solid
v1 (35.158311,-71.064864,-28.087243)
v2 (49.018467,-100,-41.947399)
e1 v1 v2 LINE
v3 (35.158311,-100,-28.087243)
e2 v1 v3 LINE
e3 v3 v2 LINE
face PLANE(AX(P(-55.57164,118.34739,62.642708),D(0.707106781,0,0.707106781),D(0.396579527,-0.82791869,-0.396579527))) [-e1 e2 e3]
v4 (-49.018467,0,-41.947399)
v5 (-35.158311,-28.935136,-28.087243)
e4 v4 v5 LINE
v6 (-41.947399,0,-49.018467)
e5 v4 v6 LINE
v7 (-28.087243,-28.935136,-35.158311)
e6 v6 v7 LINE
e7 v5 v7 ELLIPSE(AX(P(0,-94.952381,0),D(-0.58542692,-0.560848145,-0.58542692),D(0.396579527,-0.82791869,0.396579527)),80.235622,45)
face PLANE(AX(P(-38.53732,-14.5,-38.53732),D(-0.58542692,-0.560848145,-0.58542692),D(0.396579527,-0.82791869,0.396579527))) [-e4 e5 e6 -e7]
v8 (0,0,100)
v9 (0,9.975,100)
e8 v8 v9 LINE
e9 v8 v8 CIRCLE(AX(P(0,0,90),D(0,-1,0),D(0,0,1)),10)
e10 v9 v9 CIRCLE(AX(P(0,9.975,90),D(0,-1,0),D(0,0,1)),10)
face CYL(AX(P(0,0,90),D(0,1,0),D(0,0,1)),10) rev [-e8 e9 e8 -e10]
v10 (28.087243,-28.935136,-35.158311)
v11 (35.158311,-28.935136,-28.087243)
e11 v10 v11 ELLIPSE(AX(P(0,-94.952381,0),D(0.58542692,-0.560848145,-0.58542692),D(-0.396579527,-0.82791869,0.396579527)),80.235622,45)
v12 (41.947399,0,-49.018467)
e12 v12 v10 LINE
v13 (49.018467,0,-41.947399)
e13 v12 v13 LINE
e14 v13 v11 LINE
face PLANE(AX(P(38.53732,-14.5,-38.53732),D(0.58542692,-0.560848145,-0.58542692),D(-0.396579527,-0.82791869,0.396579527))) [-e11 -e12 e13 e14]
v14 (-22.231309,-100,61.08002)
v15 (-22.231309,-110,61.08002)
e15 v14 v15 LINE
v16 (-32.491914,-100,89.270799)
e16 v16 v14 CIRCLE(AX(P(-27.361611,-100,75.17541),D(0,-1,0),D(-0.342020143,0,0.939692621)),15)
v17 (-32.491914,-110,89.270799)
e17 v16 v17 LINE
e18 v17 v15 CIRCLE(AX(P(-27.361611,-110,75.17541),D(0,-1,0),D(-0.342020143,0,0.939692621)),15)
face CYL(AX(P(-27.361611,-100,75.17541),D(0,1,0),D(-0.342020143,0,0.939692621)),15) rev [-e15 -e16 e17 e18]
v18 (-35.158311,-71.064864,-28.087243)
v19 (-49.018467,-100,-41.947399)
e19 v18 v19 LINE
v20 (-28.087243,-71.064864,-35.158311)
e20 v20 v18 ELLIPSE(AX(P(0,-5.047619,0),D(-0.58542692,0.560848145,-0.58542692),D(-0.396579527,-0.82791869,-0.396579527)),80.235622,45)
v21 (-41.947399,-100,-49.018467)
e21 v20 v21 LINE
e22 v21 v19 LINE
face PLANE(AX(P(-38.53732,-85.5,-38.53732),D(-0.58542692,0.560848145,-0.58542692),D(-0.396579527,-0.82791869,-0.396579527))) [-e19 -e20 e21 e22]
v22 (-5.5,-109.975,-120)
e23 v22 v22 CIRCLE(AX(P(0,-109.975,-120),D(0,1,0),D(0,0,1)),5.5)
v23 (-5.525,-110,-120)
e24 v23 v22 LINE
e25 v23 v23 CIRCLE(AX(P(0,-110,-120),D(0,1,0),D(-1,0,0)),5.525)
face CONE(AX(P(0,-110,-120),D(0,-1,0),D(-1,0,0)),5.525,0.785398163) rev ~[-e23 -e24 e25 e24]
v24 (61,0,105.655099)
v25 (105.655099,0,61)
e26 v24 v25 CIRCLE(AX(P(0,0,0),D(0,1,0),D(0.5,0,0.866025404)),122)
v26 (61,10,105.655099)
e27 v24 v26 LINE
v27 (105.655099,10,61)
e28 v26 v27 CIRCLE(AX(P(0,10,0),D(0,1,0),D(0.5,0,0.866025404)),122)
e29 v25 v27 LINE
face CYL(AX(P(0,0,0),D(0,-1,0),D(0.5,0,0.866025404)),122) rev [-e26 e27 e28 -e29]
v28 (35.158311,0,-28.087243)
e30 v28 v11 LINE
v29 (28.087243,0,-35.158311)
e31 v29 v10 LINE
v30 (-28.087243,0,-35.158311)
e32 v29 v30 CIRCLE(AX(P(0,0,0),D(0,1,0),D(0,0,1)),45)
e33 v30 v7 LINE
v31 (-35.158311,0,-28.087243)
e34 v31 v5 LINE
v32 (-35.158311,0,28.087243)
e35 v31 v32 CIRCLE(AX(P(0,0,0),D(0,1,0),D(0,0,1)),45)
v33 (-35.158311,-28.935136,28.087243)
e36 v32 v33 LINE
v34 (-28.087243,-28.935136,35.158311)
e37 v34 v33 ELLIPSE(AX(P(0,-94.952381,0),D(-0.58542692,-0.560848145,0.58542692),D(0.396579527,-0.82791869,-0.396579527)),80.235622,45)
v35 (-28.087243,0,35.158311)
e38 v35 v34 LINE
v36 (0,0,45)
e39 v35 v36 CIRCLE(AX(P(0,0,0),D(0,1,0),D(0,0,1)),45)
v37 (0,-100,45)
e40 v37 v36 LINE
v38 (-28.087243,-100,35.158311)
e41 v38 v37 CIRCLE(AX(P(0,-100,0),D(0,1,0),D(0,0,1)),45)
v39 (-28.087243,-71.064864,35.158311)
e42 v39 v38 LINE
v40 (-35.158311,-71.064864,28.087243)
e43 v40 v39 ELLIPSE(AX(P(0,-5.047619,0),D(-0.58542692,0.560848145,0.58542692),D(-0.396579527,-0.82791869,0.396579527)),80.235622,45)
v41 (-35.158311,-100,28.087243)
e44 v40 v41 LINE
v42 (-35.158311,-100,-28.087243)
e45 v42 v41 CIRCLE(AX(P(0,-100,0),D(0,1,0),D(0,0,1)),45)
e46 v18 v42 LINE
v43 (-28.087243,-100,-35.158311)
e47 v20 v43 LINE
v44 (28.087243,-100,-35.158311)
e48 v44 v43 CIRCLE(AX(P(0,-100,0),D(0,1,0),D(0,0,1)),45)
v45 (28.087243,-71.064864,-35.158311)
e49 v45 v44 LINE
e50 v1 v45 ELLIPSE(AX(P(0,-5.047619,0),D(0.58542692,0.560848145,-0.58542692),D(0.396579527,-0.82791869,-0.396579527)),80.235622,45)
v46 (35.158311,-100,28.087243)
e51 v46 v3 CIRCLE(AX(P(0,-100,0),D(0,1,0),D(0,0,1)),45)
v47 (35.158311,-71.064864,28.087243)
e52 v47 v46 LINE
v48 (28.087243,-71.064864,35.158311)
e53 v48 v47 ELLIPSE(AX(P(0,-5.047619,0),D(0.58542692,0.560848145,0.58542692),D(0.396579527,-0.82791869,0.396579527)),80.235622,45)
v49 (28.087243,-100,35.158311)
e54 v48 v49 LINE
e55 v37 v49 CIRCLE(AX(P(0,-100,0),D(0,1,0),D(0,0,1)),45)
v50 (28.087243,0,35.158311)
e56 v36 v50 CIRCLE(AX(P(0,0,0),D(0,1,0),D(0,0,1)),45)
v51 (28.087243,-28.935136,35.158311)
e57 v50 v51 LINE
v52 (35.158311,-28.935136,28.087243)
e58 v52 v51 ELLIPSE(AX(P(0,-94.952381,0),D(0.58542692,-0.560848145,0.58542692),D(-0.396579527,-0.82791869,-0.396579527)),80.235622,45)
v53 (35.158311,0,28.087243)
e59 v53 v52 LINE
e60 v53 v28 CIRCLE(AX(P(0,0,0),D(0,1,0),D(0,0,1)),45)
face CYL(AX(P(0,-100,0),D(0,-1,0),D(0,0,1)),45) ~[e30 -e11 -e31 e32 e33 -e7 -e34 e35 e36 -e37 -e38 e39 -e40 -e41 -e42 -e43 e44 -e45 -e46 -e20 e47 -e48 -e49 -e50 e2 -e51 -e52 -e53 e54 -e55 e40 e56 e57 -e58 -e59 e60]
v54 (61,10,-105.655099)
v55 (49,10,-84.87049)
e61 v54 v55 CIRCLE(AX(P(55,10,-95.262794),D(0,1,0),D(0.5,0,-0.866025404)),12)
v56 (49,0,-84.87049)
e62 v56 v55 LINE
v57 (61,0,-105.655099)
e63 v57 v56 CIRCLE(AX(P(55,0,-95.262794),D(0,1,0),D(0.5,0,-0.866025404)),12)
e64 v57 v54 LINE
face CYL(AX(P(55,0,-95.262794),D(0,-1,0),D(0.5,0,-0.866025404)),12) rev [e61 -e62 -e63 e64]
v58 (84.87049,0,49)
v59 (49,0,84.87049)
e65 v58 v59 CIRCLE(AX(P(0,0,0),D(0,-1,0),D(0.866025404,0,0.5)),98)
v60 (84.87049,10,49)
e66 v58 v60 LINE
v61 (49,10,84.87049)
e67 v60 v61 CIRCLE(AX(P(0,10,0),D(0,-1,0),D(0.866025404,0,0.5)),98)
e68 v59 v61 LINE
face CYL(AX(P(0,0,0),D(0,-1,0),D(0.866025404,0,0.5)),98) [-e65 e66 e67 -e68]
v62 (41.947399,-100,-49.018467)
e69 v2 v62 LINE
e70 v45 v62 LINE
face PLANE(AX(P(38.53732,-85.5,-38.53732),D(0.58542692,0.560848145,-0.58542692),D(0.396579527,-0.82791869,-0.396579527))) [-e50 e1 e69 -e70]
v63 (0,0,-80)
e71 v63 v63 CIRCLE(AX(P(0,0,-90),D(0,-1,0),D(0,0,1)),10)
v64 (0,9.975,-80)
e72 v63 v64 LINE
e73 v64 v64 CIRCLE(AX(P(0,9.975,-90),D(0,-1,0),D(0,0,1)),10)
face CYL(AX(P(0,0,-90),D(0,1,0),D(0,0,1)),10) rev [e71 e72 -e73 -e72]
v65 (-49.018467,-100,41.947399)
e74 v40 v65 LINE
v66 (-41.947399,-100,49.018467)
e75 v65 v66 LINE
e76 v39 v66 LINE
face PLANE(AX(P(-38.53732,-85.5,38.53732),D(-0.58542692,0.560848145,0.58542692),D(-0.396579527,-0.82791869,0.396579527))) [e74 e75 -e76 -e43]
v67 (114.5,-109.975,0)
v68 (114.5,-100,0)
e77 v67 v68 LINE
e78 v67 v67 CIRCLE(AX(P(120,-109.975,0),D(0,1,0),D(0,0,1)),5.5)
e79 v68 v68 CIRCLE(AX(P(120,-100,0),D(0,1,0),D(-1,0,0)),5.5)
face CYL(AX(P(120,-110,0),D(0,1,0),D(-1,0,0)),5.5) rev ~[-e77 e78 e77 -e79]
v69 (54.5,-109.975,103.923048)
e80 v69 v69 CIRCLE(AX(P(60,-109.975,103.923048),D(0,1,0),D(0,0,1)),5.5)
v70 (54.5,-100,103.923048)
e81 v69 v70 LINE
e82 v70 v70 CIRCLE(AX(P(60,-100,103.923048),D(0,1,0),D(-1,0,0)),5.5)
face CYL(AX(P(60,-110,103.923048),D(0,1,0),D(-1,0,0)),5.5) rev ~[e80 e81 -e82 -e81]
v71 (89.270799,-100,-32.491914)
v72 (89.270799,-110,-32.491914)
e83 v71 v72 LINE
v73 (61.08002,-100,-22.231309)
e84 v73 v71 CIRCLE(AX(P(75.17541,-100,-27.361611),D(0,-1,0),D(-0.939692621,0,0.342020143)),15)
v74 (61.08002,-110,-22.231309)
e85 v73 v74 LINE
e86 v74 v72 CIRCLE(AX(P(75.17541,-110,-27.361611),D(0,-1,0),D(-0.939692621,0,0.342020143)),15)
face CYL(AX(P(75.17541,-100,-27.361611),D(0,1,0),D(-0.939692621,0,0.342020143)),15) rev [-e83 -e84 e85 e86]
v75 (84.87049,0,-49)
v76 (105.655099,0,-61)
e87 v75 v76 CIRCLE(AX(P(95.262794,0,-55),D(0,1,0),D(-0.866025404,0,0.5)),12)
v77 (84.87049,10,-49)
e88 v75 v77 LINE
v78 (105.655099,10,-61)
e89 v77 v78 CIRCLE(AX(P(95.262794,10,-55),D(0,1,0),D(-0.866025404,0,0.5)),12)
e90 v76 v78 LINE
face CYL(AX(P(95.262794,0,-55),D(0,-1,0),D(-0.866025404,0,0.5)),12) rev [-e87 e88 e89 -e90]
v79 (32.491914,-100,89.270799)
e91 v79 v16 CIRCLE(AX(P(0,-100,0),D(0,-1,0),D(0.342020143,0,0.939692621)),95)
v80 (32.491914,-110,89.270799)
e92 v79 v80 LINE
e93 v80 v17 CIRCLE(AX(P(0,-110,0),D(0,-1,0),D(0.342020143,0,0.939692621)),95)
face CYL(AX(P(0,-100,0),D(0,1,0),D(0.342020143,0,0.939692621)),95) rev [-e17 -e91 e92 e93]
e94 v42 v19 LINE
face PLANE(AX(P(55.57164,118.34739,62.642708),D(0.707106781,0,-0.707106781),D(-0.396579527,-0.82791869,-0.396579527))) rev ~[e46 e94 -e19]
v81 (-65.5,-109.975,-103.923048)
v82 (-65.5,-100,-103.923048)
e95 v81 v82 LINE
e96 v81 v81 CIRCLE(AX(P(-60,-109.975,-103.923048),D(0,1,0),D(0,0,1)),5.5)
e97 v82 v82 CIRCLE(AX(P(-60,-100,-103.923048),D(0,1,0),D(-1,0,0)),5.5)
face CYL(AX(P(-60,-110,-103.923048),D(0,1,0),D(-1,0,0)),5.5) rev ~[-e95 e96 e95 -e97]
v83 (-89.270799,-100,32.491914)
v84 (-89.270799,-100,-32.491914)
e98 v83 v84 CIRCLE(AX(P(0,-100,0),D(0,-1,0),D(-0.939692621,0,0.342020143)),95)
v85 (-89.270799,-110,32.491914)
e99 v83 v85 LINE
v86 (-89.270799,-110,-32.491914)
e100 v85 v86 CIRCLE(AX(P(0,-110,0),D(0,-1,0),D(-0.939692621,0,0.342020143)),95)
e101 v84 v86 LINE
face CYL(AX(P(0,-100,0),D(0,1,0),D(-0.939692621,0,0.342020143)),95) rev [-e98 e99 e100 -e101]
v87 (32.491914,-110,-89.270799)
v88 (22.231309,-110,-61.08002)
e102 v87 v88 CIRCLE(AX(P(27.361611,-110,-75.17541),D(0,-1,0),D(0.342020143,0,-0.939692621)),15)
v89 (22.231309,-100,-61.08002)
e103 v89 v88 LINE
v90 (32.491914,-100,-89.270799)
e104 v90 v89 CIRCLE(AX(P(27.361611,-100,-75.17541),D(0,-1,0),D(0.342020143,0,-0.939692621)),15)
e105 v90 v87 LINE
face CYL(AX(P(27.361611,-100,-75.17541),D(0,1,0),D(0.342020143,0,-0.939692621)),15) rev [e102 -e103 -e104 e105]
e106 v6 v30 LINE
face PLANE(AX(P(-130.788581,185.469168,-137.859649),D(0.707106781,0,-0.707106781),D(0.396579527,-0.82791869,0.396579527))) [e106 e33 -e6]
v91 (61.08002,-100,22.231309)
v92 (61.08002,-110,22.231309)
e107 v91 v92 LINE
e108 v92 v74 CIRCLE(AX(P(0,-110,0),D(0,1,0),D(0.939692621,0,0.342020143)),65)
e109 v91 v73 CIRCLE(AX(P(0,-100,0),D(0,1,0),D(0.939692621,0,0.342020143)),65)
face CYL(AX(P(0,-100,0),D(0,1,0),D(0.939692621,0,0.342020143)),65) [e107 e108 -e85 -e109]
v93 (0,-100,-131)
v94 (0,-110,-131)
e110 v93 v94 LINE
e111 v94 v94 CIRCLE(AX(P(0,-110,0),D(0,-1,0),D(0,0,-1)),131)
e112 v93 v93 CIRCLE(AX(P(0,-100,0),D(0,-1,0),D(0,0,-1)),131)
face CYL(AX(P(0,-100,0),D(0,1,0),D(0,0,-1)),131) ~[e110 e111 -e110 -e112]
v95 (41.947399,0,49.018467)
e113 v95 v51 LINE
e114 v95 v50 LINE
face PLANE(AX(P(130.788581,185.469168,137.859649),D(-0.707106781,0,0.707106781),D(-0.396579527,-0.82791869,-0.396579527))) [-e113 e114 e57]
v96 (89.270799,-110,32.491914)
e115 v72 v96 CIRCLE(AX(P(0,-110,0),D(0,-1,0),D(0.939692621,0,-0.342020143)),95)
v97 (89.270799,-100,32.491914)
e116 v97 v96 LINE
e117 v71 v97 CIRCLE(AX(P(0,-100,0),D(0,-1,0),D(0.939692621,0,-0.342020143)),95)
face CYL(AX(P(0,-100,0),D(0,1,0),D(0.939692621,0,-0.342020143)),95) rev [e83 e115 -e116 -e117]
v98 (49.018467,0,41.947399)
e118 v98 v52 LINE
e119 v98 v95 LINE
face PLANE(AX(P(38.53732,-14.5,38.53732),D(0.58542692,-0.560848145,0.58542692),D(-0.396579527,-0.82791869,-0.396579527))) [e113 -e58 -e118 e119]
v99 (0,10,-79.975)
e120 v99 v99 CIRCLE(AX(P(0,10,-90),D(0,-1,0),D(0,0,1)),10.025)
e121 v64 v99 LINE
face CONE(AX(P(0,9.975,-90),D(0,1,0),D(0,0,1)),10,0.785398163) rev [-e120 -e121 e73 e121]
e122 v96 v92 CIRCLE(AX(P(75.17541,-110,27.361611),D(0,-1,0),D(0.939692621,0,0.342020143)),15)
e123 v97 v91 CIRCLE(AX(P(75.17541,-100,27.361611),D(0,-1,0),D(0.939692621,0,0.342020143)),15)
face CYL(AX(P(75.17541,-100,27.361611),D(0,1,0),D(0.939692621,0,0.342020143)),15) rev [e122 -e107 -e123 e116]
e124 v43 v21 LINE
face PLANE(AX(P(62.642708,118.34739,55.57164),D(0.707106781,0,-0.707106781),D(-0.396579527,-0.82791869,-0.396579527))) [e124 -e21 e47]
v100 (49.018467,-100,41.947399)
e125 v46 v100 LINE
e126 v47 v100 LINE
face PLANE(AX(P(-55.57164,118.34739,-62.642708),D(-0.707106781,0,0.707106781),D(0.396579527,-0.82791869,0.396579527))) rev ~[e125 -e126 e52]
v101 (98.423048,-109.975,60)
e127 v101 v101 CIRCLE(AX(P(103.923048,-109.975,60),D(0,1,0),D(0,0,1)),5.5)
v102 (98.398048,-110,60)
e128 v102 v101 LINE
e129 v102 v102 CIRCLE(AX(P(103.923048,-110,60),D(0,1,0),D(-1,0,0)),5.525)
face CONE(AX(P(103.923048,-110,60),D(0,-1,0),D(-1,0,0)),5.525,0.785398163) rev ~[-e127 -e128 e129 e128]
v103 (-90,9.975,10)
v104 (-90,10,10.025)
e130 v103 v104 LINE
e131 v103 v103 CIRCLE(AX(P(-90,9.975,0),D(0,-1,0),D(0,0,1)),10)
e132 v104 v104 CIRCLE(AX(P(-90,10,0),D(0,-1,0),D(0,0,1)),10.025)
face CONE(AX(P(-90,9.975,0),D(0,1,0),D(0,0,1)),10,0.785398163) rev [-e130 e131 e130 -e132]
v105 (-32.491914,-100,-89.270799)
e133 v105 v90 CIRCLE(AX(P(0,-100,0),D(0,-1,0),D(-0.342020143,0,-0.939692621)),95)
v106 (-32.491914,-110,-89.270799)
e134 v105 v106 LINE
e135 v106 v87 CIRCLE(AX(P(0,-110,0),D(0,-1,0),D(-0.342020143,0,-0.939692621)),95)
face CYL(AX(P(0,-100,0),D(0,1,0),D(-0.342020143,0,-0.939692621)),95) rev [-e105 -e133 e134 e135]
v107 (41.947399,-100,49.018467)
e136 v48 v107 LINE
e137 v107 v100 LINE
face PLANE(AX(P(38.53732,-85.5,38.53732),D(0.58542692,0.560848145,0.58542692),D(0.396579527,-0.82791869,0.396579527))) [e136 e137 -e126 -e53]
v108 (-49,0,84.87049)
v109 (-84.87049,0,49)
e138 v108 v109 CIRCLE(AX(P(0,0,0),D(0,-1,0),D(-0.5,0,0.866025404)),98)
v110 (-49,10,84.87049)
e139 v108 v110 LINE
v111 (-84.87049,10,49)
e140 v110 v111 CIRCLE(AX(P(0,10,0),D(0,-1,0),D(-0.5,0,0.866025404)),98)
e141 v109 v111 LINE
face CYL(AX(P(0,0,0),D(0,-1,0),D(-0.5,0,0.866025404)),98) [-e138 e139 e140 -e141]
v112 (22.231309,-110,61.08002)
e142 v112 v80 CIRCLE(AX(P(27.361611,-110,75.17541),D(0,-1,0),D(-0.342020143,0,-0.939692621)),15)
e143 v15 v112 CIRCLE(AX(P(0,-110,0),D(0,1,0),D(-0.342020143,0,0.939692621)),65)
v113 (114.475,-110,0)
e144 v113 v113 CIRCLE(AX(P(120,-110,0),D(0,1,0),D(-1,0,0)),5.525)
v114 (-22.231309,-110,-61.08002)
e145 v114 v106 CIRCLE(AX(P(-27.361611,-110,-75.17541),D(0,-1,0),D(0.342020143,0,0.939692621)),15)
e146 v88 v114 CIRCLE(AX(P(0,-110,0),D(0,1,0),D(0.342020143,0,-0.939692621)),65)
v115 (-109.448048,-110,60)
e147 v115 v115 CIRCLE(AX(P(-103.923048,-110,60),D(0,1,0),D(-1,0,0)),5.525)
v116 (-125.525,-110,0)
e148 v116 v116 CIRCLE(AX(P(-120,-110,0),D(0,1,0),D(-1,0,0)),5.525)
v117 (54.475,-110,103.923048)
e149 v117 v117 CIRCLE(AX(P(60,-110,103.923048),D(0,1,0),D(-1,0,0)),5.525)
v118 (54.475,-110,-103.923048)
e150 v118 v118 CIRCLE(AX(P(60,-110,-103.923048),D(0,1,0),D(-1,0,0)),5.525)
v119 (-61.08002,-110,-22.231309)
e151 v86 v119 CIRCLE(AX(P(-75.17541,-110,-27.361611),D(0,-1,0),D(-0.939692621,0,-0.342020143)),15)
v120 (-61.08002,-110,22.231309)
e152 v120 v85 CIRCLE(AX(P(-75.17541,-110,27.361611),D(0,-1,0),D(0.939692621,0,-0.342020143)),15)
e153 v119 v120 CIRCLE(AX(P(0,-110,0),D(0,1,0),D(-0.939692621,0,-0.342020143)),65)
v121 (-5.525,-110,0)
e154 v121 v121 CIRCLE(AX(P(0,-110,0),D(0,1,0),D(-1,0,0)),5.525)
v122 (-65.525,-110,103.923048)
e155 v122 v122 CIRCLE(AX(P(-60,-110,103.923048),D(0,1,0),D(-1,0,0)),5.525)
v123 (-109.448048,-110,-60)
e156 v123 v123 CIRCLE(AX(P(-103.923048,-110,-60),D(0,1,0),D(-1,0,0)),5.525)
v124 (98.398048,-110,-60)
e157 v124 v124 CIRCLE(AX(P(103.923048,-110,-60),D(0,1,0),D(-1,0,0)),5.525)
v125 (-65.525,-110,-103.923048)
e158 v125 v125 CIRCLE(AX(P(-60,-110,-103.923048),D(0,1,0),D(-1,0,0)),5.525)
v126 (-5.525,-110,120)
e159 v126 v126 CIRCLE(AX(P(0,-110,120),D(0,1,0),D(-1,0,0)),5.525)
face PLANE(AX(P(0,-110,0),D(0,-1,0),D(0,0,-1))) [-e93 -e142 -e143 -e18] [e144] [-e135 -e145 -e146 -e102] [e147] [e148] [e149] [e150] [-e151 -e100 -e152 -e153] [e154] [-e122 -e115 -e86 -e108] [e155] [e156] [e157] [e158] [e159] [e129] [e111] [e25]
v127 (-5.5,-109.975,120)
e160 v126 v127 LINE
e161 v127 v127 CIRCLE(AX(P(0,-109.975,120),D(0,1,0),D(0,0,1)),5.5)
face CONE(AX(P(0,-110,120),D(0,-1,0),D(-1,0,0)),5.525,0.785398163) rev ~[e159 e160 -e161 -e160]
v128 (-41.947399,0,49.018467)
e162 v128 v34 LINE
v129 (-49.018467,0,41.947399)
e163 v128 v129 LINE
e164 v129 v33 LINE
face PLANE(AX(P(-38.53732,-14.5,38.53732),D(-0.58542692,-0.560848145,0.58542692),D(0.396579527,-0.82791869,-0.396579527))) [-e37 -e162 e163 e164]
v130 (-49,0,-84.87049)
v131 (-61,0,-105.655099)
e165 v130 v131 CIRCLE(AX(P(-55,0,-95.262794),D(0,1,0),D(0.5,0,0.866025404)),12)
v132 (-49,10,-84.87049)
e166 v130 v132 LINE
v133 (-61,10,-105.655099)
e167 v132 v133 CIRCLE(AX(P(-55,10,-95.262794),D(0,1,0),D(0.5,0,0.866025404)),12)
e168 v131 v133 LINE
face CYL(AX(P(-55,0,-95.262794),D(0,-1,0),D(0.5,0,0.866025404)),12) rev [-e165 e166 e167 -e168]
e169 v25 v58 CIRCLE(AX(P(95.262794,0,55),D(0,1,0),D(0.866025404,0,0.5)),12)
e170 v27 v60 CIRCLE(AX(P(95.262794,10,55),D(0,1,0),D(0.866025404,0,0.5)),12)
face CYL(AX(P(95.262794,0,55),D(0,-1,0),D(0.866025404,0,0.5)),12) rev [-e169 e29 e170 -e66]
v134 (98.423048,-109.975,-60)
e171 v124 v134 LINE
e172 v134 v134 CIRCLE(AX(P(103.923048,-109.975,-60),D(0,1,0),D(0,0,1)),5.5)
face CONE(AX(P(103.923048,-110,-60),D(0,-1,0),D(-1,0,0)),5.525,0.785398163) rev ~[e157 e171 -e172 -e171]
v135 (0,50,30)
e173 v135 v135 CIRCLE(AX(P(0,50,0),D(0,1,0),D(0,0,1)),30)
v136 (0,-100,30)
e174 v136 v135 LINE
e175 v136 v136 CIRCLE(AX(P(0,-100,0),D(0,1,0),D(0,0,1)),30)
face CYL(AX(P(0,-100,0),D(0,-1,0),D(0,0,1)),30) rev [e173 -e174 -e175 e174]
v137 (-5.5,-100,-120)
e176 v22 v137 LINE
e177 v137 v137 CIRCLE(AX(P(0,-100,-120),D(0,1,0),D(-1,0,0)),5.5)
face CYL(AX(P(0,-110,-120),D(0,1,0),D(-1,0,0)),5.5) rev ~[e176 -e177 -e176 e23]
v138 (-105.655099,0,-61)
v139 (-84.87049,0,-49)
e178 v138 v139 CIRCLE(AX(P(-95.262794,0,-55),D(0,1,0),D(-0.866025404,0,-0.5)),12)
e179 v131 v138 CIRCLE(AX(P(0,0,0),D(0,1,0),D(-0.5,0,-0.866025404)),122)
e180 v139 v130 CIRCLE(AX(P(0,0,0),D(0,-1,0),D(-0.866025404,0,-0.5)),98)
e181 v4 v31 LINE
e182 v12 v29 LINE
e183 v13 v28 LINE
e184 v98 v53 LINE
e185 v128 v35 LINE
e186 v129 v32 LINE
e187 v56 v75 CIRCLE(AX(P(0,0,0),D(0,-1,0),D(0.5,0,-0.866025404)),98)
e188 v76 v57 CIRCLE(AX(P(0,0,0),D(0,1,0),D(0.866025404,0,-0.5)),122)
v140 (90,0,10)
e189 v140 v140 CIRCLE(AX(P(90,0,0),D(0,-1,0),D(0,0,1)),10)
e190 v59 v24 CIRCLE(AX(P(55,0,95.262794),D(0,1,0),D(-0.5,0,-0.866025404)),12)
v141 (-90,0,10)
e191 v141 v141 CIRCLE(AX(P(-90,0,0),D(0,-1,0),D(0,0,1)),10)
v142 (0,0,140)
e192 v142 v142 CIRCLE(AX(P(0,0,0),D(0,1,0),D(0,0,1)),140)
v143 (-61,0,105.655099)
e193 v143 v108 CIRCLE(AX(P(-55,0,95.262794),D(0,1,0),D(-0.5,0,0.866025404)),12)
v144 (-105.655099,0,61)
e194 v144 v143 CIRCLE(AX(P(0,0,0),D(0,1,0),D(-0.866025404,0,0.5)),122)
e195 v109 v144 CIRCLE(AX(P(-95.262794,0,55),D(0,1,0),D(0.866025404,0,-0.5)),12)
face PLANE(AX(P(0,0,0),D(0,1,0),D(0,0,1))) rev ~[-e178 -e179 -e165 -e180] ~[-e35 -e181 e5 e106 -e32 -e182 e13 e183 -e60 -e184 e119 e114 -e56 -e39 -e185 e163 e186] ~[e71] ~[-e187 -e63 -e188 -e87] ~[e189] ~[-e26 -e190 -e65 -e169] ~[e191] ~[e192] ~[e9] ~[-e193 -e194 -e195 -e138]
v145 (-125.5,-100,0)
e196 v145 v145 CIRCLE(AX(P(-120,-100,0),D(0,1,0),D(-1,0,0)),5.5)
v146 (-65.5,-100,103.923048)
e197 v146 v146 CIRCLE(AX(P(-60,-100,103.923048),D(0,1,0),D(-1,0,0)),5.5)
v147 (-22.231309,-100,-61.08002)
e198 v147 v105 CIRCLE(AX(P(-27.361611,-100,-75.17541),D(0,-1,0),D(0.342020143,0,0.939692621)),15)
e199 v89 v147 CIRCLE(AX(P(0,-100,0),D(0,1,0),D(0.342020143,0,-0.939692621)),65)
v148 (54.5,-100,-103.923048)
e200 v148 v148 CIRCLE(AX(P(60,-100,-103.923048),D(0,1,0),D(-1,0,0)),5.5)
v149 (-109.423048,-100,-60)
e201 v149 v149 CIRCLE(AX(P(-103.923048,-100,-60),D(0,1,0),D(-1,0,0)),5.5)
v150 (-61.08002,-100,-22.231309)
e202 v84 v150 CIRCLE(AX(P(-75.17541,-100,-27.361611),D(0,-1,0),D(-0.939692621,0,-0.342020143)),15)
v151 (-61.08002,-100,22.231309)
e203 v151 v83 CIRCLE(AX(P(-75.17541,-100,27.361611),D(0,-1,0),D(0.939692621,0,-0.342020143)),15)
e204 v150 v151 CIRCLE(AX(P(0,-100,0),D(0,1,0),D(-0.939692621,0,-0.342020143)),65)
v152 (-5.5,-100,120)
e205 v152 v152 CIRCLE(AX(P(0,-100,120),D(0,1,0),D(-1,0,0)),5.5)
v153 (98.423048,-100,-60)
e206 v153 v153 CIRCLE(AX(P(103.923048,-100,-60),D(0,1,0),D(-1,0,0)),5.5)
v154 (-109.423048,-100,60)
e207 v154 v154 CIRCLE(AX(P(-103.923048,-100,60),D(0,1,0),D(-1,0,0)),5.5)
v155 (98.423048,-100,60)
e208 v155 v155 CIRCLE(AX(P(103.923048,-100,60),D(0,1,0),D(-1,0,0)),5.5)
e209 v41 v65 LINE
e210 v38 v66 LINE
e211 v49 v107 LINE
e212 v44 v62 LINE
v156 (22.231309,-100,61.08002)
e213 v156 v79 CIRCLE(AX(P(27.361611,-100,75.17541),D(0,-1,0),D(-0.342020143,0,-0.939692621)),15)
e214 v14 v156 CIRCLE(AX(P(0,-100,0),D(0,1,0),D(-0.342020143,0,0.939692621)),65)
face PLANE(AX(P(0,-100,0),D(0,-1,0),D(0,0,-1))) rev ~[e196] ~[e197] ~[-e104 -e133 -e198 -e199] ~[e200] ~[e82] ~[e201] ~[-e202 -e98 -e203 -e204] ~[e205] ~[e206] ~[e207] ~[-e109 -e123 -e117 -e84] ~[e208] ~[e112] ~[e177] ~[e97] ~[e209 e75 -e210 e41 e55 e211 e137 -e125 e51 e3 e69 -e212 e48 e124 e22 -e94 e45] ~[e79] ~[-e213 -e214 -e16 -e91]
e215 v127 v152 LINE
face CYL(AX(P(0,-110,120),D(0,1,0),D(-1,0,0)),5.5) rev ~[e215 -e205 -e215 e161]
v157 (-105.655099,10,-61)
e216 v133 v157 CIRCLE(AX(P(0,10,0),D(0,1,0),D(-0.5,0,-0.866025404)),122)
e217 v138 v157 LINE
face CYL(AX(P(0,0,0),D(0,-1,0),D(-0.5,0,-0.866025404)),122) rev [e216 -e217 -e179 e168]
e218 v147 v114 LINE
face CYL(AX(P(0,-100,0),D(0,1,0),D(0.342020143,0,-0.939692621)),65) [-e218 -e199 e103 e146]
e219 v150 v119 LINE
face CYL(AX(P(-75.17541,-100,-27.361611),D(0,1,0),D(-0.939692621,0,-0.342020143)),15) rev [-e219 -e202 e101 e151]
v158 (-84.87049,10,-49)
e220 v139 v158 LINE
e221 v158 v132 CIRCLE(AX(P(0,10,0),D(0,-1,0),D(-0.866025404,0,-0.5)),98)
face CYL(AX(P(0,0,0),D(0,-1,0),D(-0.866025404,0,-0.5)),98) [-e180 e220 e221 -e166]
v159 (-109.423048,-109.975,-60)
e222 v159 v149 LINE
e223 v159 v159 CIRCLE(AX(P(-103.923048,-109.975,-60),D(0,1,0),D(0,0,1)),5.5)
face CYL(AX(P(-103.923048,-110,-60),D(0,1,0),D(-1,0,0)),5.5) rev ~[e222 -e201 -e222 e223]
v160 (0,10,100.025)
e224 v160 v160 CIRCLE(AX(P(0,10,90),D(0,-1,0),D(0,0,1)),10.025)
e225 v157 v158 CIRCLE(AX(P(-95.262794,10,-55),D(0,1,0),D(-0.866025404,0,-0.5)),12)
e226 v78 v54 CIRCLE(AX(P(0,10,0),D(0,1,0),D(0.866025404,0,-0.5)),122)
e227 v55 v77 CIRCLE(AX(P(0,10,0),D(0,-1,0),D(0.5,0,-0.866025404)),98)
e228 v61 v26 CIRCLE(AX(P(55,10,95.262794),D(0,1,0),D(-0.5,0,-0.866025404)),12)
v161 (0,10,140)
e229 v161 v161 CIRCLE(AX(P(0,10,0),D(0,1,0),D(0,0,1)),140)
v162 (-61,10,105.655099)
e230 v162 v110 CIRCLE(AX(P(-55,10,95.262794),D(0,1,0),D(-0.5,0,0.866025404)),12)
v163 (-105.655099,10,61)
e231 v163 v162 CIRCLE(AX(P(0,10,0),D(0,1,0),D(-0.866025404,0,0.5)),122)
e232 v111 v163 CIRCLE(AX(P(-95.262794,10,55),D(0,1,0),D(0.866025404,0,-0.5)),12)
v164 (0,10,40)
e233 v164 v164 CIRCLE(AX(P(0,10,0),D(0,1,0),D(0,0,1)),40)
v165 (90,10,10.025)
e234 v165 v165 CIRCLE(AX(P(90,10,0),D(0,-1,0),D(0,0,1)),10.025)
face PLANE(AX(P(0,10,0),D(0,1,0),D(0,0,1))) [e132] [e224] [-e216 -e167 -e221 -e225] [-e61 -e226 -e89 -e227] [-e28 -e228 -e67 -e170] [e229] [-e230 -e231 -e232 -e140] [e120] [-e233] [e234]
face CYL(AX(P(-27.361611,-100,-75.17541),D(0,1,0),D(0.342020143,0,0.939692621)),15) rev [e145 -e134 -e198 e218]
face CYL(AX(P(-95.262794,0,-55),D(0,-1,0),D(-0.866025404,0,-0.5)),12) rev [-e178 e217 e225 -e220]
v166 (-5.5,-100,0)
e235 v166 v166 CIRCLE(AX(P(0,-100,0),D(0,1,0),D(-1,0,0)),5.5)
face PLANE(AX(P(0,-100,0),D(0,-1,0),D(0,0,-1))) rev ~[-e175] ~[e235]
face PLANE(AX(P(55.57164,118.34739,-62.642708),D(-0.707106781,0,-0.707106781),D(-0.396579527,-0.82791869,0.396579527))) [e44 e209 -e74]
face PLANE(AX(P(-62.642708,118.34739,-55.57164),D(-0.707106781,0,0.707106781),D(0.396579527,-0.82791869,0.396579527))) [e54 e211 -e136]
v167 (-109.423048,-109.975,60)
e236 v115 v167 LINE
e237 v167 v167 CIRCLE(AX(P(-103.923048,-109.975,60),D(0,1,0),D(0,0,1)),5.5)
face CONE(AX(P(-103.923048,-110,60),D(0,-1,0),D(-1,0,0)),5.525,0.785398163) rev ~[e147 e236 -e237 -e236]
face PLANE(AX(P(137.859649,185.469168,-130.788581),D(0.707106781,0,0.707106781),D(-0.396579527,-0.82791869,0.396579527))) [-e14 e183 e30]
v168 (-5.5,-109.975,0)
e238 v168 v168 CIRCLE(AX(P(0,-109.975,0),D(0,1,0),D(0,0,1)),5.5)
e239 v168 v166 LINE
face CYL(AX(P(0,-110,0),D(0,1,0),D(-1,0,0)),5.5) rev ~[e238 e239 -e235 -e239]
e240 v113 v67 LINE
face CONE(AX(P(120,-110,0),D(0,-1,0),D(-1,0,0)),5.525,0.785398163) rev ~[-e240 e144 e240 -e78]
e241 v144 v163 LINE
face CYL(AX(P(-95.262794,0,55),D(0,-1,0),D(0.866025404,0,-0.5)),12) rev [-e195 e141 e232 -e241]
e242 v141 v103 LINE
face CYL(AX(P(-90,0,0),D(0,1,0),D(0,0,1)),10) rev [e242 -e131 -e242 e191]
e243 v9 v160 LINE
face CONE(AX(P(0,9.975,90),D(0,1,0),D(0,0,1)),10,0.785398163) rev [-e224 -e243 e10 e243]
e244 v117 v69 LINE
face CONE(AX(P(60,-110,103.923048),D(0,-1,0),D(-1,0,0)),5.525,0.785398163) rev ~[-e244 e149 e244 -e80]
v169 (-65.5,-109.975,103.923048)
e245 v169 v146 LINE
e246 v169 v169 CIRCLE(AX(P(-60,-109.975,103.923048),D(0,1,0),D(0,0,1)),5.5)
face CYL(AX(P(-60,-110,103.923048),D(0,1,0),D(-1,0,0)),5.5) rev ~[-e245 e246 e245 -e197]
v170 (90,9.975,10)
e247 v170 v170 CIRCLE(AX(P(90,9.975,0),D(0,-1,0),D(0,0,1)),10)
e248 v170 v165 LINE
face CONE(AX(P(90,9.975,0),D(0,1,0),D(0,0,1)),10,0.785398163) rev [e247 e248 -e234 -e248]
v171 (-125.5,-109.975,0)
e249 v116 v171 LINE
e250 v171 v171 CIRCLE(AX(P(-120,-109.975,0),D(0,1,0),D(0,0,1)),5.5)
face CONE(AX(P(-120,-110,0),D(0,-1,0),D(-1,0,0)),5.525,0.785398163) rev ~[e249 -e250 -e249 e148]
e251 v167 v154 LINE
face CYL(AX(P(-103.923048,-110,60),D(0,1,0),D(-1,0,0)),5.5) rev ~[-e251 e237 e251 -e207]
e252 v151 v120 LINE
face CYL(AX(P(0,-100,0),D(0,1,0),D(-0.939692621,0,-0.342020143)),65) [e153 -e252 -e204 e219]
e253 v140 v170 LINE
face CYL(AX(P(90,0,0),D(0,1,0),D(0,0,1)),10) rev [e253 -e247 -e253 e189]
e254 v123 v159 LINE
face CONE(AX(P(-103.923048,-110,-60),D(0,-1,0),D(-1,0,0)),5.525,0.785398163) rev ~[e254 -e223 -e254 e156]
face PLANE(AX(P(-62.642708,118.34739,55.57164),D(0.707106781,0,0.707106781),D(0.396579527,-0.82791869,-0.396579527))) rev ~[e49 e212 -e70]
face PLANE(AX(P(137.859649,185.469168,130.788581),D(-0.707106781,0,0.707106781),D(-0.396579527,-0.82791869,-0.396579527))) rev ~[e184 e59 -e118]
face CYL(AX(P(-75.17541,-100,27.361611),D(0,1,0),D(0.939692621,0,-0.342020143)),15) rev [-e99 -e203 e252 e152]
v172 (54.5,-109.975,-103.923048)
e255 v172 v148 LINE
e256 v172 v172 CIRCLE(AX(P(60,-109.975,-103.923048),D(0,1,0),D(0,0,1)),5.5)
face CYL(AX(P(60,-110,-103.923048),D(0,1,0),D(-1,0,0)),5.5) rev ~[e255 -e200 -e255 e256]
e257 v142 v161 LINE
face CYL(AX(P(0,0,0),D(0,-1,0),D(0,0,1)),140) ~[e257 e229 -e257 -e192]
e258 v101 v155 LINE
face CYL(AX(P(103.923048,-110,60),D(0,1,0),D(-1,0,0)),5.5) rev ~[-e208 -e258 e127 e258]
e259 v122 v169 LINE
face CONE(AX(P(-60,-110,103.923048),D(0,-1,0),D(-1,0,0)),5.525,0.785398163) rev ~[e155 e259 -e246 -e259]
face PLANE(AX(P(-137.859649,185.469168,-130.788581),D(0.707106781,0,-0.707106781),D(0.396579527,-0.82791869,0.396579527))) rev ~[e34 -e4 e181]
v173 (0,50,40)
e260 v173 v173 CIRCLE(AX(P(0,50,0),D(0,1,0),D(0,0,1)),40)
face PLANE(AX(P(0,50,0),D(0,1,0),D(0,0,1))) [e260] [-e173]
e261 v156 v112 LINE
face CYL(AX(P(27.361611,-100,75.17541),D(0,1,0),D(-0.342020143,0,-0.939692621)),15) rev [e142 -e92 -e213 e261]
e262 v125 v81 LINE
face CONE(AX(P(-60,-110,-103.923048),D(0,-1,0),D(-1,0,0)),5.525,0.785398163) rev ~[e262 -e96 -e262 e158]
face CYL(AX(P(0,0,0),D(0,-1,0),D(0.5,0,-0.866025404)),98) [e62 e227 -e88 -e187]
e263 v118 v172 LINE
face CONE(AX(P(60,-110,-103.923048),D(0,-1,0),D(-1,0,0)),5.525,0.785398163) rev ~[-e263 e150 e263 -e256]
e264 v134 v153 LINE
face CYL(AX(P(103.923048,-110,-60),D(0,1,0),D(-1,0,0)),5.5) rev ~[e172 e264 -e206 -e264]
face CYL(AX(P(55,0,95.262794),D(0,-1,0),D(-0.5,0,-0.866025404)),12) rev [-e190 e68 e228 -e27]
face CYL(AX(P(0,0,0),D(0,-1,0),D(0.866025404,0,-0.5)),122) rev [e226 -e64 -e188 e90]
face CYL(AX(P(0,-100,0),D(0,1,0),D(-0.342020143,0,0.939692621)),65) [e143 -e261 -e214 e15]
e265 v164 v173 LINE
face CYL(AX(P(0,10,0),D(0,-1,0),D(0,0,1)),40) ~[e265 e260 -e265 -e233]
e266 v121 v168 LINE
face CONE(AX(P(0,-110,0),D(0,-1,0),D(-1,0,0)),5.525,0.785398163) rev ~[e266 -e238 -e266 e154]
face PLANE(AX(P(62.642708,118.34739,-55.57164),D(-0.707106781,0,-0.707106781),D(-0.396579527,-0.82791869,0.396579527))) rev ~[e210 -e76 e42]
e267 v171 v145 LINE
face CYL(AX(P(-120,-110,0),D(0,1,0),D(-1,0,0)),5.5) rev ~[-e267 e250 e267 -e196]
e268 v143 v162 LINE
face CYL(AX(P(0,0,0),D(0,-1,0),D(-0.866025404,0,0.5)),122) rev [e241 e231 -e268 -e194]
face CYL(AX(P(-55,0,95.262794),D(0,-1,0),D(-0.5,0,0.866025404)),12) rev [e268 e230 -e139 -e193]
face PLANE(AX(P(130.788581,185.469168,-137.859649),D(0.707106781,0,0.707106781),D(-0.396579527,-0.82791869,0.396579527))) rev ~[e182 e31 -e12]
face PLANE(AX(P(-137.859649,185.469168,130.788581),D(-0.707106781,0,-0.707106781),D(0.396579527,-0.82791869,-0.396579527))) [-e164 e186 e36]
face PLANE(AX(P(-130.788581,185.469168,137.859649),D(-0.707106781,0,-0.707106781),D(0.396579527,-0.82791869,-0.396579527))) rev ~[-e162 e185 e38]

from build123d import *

# Parameters (mm, degrees)
SKETCH_1_R                        = 140
SKETCH_1_R_2                      = 30
EXTRUDE_1_DEPTH                   = 10
HOLE_WIZARD_20_0_20_1_AT_2_COUNT  = 2
HOLE_WIZARD_20_0_20_1_AT_2_PITCH  = 127.279220614
HOLE_WIZARD_20_0_20_1_AT_3_COUNT  = 2
HOLE_WIZARD_20_0_20_1_AT_3_PITCH  = 180
HOLE_WIZARD_20_0_20_1_AT_4_COUNT  = 2
HOLE_WIZARD_20_0_20_1_AT_4_PITCH  = 127.279220614
SKETCH_4_R                        = 40
SKETCH_4_R_2                      = 30
EXTRUDE_2_DEPTH                   = 40
EXTRUDE_START                     = -100
SKETCH_6_R                        = 45
SKETCH_6_R_2                      = 30
EXTRUDE_3_DEPTH                   = 100
RIB_6_REACH                       = 223.811
SKETCH_7_WALL_W                   = 483.06475071
SKETCH_7_WALL_H                   = 10
PATTERN_CIRCULAR_1_COUNT          = 4
SKETCH_8_R                        = 131
EXTRUDE_4_DEPTH                   = 10
HOLE_WIZARD_11_0_11_1_D           = 11
HOLE_WIZARD_11_0_11_1_DEPTH       = 10
HOLE_WIZARD_11_0_11_1_CSINK_D     = 11.05
HOLE_WIZARD_11_0_11_1_CSINK_ANGLE = 90
RIB_7_REACH                       = 228.495
SKETCH_11_WALL_W                  = 492.43335657
SKETCH_11_WALL_H                  = 10
PATTERN_CIRCULAR_2_COUNT          = 4


with BuildPart() as part:
    # 草图1 → 凸台-拉伸1 (new body)
    with BuildSketch(Plane(origin=(0, 0, 0), x_dir=(1, 0, 0), z_dir=(0, 1, 0))):
        with Locations(Location((0, 0, 0), (0, 0, 270))):
            Circle(SKETCH_1_R)
        with Locations(Location((0, 0, 0), (0, 0, 270))):
            Circle(SKETCH_1_R_2, mode=Mode.SUBTRACT)
        with BuildLine():
            ThreePointArc((105.655099262, 61), (86.267027305, 86.267027305), (61, 105.655099262))
            ThreePointArc((61, 105.655099262), (44.607695155, 101.262794416), (49, 84.870489571))
            ThreePointArc((49, 84.870489571), (69.296464556, 69.296464556), (84.870489571, 49))
            ThreePointArc((84.870489571, 49), (101.262794416, 44.607695155), (105.655099262, 61))
        make_face(mode=Mode.SUBTRACT)
        with BuildLine():
            ThreePointArc((61, -105.655099262), (86.267027305, -86.267027305), (105.655099262, -61))
            ThreePointArc((105.655099262, -61), (101.262794416, -44.607695155), (84.870489571, -49))
            ThreePointArc((84.870489571, -49), (69.296464556, -69.296464556), (49, -84.870489571))
            ThreePointArc((49, -84.870489571), (44.607695155, -101.262794416), (61, -105.655099262))
        make_face(mode=Mode.SUBTRACT)
        with BuildLine():
            ThreePointArc((-105.655099262, -61), (-86.267027305, -86.267027305), (-61, -105.655099262))
            ThreePointArc((-61, -105.655099262), (-44.607695155, -101.262794416), (-49, -84.870489571))
            ThreePointArc((-49, -84.870489571), (-69.296464556, -69.296464556), (-84.870489571, -49))
            ThreePointArc((-84.870489571, -49), (-101.262794416, -44.607695155), (-105.655099262, -61))
        make_face(mode=Mode.SUBTRACT)
        with BuildLine():
            ThreePointArc((-61, 105.655099262), (-86.267027305, 86.267027305), (-105.655099262, 61))
            ThreePointArc((-105.655099262, 61), (-101.262794416, 44.607695155), (-84.870489571, 49))
            ThreePointArc((-84.870489571, 49), (-69.296464556, 69.296464556), (-49, 84.870489571))
            ThreePointArc((-49, 84.870489571), (-44.607695155, 101.262794416), (-61, 105.655099262))
        make_face(mode=Mode.SUBTRACT)
    extrude(amount=EXTRUDE_1_DEPTH)

    # 草图3 → Ø20.0 (20) 直径孔1 (revolve, cut)
    with BuildSketch(Plane(origin=(0, 10, 90), x_dir=(0, 0, 1), z_dir=(1, 0, 0))):
        Polygon((0, 0), (0, 10), (10, 10), (10, 0.025), (10.025, 0), align=None)
    hole_wizard_20_0_20_1 = revolve(axis=Axis((0, 16.35, 90), (0, -1, 0)), mode=Mode.SUBTRACT)

    # Ø20.0 (20) 直径孔1 at 2: Ø20.0 (20) 直径孔1 ×2
    with Locations(*[Vector(0.7071067811865476, 0, -0.7071067811865476) * (i * HOLE_WIZARD_20_0_20_1_AT_2_PITCH) for i in range(1, HOLE_WIZARD_20_0_20_1_AT_2_COUNT)]):
        add(hole_wizard_20_0_20_1, mode=Mode.SUBTRACT)

    # Ø20.0 (20) 直径孔1 at 3: Ø20.0 (20) 直径孔1 ×2
    with Locations(*[(0, 0, -i * HOLE_WIZARD_20_0_20_1_AT_3_PITCH) for i in range(1, HOLE_WIZARD_20_0_20_1_AT_3_COUNT)]):
        add(hole_wizard_20_0_20_1, mode=Mode.SUBTRACT)

    # Ø20.0 (20) 直径孔1 at 4: Ø20.0 (20) 直径孔1 ×2
    with Locations(*[Vector(-0.7071067811865476, 0, -0.7071067811865476) * (i * HOLE_WIZARD_20_0_20_1_AT_4_PITCH) for i in range(1, HOLE_WIZARD_20_0_20_1_AT_4_COUNT)]):
        add(hole_wizard_20_0_20_1, mode=Mode.SUBTRACT)

    # 草图4 → 凸台-拉伸2 (add)
    with BuildSketch(Plane(origin=(0, 10, 0), x_dir=(1, 0, 0), z_dir=(0, 1, 0))):
        with Locations(Location((0, 0, 0), (0, 0, 270))):
            Circle(SKETCH_4_R)
        with Locations(Location((0, 0, 0), (0, 0, 270))):
            Circle(SKETCH_4_R_2, mode=Mode.SUBTRACT)
    extrude(amount=EXTRUDE_2_DEPTH)

    # 草图6 → 凸台-拉伸3 (add)
    with BuildSketch(Plane(origin=(0, 0, 0), x_dir=(1, 0, 0), z_dir=(0, 1, 0)).offset(EXTRUDE_START)):
        with Locations(Location((0, 0, 0), (0, 0, 270))):
            Circle(SKETCH_6_R)
        with Locations(Location((0, 0, 0), (0, 0, 270))):
            Circle(SKETCH_6_R_2, mode=Mode.SUBTRACT)
    extrude(amount=EXTRUDE_3_DEPTH)

    # 草图7 wall → 筋6 (add, up to next)
    with BuildSketch(Plane(origin=(38.537319575, -14.5, 38.537319575), x_dir=(-0.396579526667, -0.827918690487, -0.396579526667), z_dir=(0.585426920314, -0.560848145172, 0.585426920314)), mode=Mode.PRIVATE) as rib_6_sk1:
        Rectangle(SKETCH_7_WALL_W, SKETCH_7_WALL_H)
    rib_6_tool1 = extrude(rib_6_sk1.sketch, amount=-RIB_6_REACH, mode=Mode.PRIVATE) - part.part
    rib_6 = rib_6_tool1.solids().sort_by_distance((38.537319575, -14.5, 38.537319575))[0]
    add(rib_6)

    # 阵列(圆周)1: 筋6 ×4 about axis
    pattern_circular_1_axis = Axis((0, 0, 0), (0, 1, 0))
    for i in range(1, PATTERN_CIRCULAR_1_COUNT):
        add(rib_6.rotate(pattern_circular_1_axis, i * 360 / PATTERN_CIRCULAR_1_COUNT))

    # 草图8 → 凸台-拉伸4 (add)
    with BuildSketch(Plane.XZ.offset(100)):
        with Locations(Location((0, 0, 0), (0, 0, 270))):
            Circle(SKETCH_8_R)
        with BuildLine():
            ThreePointArc((32.491913616, 89.270798975), (0, 95), (-32.491913616, 89.270798975))
            ThreePointArc((-32.491913616, 89.270798975), (-41.457000778, 70.045107513), (-22.231309316, 61.080020351))
            ThreePointArc((-22.231309316, 61.080020351), (0, 65), (22.231309316, 61.080020351))
            ThreePointArc((22.231309316, 61.080020351), (41.457000778, 70.045107513), (32.491913616, 89.270798975))
        make_face(mode=Mode.SUBTRACT)
        with BuildLine():
            ThreePointArc((89.270798975, -32.491913616), (95, 0), (89.270798975, 32.491913616))
            ThreePointArc((89.270798975, 32.491913616), (70.045107513, 41.457000778), (61.080020351, 22.231309316))
            ThreePointArc((61.080020351, 22.231309316), (65, 0), (61.080020351, -22.231309316))
            ThreePointArc((61.080020351, -22.231309316), (70.045107513, -41.457000778), (89.270798975, -32.491913616))
        make_face(mode=Mode.SUBTRACT)
        with BuildLine():
            ThreePointArc((-32.491913616, -89.270798975), (0, -95), (32.491913616, -89.270798975))
            ThreePointArc((32.491913616, -89.270798975), (41.457000778, -70.045107513), (22.231309316, -61.080020351))
            ThreePointArc((22.231309316, -61.080020351), (0, -65), (-22.231309316, -61.080020351))
            ThreePointArc((-22.231309316, -61.080020351), (-41.457000778, -70.045107513), (-32.491913616, -89.270798975))
        make_face(mode=Mode.SUBTRACT)
        with BuildLine():
            ThreePointArc((-89.270798975, 32.491913616), (-95, 0), (-89.270798975, -32.491913616))
            ThreePointArc((-89.270798975, -32.491913616), (-70.045107513, -41.457000778), (-61.080020351, -22.231309316))
            ThreePointArc((-61.080020351, -22.231309316), (-65, 0), (-61.080020351, 22.231309316))
            ThreePointArc((-61.080020351, 22.231309316), (-70.045107513, 41.457000778), (-89.270798975, 32.491913616))
        make_face(mode=Mode.SUBTRACT)
    extrude(amount=EXTRUDE_4_DEPTH)

    # Ø11.0 (11) 直径孔1
    with Locations(Plane.XZ.offset(110)):
        with Locations((0, 0), (0, 120), (60, 103.923048454), (103.923048454, 60), (120, 0), (103.923048454, -60), (60, -103.923048454), (0, -120), (-60, -103.923048454), (-103.923048454, -60), (-120, 0), (-103.923048454, 60), (-60, 103.923048454)):
            CounterSinkHole(HOLE_WIZARD_11_0_11_1_D / 2, HOLE_WIZARD_11_0_11_1_CSINK_D / 2, depth=HOLE_WIZARD_11_0_11_1_DEPTH, counter_sink_angle=HOLE_WIZARD_11_0_11_1_CSINK_ANGLE)

    # 草图11 wall → 筋7 (add, up to next)
    with BuildSketch(Plane(origin=(38.537319575, -85.5, 38.537319575), x_dir=(0.396579526667, -0.827918690487, 0.396579526667), z_dir=(0.585426920314, 0.560848145172, 0.585426920314)), mode=Mode.PRIVATE) as rib_7_sk1:
        Rectangle(SKETCH_11_WALL_W, SKETCH_11_WALL_H)
    rib_7_tool1 = extrude(rib_7_sk1.sketch, amount=-RIB_7_REACH, mode=Mode.PRIVATE) - part.part
    rib_7 = rib_7_tool1.solids().sort_by_distance((38.537319575, -85.5, 38.537319575))[0]
    add(rib_7)

    # 阵列(圆周)2: 筋7 ×4 about axis
    pattern_circular_2_axis = Axis((0, 0, 0), (0, 1, 0))
    for i in range(1, PATTERN_CIRCULAR_2_COUNT):
        add(rib_7.rotate(pattern_circular_2_axis, i * 360 / PATTERN_CIRCULAR_2_COUNT))


solid = part.part
